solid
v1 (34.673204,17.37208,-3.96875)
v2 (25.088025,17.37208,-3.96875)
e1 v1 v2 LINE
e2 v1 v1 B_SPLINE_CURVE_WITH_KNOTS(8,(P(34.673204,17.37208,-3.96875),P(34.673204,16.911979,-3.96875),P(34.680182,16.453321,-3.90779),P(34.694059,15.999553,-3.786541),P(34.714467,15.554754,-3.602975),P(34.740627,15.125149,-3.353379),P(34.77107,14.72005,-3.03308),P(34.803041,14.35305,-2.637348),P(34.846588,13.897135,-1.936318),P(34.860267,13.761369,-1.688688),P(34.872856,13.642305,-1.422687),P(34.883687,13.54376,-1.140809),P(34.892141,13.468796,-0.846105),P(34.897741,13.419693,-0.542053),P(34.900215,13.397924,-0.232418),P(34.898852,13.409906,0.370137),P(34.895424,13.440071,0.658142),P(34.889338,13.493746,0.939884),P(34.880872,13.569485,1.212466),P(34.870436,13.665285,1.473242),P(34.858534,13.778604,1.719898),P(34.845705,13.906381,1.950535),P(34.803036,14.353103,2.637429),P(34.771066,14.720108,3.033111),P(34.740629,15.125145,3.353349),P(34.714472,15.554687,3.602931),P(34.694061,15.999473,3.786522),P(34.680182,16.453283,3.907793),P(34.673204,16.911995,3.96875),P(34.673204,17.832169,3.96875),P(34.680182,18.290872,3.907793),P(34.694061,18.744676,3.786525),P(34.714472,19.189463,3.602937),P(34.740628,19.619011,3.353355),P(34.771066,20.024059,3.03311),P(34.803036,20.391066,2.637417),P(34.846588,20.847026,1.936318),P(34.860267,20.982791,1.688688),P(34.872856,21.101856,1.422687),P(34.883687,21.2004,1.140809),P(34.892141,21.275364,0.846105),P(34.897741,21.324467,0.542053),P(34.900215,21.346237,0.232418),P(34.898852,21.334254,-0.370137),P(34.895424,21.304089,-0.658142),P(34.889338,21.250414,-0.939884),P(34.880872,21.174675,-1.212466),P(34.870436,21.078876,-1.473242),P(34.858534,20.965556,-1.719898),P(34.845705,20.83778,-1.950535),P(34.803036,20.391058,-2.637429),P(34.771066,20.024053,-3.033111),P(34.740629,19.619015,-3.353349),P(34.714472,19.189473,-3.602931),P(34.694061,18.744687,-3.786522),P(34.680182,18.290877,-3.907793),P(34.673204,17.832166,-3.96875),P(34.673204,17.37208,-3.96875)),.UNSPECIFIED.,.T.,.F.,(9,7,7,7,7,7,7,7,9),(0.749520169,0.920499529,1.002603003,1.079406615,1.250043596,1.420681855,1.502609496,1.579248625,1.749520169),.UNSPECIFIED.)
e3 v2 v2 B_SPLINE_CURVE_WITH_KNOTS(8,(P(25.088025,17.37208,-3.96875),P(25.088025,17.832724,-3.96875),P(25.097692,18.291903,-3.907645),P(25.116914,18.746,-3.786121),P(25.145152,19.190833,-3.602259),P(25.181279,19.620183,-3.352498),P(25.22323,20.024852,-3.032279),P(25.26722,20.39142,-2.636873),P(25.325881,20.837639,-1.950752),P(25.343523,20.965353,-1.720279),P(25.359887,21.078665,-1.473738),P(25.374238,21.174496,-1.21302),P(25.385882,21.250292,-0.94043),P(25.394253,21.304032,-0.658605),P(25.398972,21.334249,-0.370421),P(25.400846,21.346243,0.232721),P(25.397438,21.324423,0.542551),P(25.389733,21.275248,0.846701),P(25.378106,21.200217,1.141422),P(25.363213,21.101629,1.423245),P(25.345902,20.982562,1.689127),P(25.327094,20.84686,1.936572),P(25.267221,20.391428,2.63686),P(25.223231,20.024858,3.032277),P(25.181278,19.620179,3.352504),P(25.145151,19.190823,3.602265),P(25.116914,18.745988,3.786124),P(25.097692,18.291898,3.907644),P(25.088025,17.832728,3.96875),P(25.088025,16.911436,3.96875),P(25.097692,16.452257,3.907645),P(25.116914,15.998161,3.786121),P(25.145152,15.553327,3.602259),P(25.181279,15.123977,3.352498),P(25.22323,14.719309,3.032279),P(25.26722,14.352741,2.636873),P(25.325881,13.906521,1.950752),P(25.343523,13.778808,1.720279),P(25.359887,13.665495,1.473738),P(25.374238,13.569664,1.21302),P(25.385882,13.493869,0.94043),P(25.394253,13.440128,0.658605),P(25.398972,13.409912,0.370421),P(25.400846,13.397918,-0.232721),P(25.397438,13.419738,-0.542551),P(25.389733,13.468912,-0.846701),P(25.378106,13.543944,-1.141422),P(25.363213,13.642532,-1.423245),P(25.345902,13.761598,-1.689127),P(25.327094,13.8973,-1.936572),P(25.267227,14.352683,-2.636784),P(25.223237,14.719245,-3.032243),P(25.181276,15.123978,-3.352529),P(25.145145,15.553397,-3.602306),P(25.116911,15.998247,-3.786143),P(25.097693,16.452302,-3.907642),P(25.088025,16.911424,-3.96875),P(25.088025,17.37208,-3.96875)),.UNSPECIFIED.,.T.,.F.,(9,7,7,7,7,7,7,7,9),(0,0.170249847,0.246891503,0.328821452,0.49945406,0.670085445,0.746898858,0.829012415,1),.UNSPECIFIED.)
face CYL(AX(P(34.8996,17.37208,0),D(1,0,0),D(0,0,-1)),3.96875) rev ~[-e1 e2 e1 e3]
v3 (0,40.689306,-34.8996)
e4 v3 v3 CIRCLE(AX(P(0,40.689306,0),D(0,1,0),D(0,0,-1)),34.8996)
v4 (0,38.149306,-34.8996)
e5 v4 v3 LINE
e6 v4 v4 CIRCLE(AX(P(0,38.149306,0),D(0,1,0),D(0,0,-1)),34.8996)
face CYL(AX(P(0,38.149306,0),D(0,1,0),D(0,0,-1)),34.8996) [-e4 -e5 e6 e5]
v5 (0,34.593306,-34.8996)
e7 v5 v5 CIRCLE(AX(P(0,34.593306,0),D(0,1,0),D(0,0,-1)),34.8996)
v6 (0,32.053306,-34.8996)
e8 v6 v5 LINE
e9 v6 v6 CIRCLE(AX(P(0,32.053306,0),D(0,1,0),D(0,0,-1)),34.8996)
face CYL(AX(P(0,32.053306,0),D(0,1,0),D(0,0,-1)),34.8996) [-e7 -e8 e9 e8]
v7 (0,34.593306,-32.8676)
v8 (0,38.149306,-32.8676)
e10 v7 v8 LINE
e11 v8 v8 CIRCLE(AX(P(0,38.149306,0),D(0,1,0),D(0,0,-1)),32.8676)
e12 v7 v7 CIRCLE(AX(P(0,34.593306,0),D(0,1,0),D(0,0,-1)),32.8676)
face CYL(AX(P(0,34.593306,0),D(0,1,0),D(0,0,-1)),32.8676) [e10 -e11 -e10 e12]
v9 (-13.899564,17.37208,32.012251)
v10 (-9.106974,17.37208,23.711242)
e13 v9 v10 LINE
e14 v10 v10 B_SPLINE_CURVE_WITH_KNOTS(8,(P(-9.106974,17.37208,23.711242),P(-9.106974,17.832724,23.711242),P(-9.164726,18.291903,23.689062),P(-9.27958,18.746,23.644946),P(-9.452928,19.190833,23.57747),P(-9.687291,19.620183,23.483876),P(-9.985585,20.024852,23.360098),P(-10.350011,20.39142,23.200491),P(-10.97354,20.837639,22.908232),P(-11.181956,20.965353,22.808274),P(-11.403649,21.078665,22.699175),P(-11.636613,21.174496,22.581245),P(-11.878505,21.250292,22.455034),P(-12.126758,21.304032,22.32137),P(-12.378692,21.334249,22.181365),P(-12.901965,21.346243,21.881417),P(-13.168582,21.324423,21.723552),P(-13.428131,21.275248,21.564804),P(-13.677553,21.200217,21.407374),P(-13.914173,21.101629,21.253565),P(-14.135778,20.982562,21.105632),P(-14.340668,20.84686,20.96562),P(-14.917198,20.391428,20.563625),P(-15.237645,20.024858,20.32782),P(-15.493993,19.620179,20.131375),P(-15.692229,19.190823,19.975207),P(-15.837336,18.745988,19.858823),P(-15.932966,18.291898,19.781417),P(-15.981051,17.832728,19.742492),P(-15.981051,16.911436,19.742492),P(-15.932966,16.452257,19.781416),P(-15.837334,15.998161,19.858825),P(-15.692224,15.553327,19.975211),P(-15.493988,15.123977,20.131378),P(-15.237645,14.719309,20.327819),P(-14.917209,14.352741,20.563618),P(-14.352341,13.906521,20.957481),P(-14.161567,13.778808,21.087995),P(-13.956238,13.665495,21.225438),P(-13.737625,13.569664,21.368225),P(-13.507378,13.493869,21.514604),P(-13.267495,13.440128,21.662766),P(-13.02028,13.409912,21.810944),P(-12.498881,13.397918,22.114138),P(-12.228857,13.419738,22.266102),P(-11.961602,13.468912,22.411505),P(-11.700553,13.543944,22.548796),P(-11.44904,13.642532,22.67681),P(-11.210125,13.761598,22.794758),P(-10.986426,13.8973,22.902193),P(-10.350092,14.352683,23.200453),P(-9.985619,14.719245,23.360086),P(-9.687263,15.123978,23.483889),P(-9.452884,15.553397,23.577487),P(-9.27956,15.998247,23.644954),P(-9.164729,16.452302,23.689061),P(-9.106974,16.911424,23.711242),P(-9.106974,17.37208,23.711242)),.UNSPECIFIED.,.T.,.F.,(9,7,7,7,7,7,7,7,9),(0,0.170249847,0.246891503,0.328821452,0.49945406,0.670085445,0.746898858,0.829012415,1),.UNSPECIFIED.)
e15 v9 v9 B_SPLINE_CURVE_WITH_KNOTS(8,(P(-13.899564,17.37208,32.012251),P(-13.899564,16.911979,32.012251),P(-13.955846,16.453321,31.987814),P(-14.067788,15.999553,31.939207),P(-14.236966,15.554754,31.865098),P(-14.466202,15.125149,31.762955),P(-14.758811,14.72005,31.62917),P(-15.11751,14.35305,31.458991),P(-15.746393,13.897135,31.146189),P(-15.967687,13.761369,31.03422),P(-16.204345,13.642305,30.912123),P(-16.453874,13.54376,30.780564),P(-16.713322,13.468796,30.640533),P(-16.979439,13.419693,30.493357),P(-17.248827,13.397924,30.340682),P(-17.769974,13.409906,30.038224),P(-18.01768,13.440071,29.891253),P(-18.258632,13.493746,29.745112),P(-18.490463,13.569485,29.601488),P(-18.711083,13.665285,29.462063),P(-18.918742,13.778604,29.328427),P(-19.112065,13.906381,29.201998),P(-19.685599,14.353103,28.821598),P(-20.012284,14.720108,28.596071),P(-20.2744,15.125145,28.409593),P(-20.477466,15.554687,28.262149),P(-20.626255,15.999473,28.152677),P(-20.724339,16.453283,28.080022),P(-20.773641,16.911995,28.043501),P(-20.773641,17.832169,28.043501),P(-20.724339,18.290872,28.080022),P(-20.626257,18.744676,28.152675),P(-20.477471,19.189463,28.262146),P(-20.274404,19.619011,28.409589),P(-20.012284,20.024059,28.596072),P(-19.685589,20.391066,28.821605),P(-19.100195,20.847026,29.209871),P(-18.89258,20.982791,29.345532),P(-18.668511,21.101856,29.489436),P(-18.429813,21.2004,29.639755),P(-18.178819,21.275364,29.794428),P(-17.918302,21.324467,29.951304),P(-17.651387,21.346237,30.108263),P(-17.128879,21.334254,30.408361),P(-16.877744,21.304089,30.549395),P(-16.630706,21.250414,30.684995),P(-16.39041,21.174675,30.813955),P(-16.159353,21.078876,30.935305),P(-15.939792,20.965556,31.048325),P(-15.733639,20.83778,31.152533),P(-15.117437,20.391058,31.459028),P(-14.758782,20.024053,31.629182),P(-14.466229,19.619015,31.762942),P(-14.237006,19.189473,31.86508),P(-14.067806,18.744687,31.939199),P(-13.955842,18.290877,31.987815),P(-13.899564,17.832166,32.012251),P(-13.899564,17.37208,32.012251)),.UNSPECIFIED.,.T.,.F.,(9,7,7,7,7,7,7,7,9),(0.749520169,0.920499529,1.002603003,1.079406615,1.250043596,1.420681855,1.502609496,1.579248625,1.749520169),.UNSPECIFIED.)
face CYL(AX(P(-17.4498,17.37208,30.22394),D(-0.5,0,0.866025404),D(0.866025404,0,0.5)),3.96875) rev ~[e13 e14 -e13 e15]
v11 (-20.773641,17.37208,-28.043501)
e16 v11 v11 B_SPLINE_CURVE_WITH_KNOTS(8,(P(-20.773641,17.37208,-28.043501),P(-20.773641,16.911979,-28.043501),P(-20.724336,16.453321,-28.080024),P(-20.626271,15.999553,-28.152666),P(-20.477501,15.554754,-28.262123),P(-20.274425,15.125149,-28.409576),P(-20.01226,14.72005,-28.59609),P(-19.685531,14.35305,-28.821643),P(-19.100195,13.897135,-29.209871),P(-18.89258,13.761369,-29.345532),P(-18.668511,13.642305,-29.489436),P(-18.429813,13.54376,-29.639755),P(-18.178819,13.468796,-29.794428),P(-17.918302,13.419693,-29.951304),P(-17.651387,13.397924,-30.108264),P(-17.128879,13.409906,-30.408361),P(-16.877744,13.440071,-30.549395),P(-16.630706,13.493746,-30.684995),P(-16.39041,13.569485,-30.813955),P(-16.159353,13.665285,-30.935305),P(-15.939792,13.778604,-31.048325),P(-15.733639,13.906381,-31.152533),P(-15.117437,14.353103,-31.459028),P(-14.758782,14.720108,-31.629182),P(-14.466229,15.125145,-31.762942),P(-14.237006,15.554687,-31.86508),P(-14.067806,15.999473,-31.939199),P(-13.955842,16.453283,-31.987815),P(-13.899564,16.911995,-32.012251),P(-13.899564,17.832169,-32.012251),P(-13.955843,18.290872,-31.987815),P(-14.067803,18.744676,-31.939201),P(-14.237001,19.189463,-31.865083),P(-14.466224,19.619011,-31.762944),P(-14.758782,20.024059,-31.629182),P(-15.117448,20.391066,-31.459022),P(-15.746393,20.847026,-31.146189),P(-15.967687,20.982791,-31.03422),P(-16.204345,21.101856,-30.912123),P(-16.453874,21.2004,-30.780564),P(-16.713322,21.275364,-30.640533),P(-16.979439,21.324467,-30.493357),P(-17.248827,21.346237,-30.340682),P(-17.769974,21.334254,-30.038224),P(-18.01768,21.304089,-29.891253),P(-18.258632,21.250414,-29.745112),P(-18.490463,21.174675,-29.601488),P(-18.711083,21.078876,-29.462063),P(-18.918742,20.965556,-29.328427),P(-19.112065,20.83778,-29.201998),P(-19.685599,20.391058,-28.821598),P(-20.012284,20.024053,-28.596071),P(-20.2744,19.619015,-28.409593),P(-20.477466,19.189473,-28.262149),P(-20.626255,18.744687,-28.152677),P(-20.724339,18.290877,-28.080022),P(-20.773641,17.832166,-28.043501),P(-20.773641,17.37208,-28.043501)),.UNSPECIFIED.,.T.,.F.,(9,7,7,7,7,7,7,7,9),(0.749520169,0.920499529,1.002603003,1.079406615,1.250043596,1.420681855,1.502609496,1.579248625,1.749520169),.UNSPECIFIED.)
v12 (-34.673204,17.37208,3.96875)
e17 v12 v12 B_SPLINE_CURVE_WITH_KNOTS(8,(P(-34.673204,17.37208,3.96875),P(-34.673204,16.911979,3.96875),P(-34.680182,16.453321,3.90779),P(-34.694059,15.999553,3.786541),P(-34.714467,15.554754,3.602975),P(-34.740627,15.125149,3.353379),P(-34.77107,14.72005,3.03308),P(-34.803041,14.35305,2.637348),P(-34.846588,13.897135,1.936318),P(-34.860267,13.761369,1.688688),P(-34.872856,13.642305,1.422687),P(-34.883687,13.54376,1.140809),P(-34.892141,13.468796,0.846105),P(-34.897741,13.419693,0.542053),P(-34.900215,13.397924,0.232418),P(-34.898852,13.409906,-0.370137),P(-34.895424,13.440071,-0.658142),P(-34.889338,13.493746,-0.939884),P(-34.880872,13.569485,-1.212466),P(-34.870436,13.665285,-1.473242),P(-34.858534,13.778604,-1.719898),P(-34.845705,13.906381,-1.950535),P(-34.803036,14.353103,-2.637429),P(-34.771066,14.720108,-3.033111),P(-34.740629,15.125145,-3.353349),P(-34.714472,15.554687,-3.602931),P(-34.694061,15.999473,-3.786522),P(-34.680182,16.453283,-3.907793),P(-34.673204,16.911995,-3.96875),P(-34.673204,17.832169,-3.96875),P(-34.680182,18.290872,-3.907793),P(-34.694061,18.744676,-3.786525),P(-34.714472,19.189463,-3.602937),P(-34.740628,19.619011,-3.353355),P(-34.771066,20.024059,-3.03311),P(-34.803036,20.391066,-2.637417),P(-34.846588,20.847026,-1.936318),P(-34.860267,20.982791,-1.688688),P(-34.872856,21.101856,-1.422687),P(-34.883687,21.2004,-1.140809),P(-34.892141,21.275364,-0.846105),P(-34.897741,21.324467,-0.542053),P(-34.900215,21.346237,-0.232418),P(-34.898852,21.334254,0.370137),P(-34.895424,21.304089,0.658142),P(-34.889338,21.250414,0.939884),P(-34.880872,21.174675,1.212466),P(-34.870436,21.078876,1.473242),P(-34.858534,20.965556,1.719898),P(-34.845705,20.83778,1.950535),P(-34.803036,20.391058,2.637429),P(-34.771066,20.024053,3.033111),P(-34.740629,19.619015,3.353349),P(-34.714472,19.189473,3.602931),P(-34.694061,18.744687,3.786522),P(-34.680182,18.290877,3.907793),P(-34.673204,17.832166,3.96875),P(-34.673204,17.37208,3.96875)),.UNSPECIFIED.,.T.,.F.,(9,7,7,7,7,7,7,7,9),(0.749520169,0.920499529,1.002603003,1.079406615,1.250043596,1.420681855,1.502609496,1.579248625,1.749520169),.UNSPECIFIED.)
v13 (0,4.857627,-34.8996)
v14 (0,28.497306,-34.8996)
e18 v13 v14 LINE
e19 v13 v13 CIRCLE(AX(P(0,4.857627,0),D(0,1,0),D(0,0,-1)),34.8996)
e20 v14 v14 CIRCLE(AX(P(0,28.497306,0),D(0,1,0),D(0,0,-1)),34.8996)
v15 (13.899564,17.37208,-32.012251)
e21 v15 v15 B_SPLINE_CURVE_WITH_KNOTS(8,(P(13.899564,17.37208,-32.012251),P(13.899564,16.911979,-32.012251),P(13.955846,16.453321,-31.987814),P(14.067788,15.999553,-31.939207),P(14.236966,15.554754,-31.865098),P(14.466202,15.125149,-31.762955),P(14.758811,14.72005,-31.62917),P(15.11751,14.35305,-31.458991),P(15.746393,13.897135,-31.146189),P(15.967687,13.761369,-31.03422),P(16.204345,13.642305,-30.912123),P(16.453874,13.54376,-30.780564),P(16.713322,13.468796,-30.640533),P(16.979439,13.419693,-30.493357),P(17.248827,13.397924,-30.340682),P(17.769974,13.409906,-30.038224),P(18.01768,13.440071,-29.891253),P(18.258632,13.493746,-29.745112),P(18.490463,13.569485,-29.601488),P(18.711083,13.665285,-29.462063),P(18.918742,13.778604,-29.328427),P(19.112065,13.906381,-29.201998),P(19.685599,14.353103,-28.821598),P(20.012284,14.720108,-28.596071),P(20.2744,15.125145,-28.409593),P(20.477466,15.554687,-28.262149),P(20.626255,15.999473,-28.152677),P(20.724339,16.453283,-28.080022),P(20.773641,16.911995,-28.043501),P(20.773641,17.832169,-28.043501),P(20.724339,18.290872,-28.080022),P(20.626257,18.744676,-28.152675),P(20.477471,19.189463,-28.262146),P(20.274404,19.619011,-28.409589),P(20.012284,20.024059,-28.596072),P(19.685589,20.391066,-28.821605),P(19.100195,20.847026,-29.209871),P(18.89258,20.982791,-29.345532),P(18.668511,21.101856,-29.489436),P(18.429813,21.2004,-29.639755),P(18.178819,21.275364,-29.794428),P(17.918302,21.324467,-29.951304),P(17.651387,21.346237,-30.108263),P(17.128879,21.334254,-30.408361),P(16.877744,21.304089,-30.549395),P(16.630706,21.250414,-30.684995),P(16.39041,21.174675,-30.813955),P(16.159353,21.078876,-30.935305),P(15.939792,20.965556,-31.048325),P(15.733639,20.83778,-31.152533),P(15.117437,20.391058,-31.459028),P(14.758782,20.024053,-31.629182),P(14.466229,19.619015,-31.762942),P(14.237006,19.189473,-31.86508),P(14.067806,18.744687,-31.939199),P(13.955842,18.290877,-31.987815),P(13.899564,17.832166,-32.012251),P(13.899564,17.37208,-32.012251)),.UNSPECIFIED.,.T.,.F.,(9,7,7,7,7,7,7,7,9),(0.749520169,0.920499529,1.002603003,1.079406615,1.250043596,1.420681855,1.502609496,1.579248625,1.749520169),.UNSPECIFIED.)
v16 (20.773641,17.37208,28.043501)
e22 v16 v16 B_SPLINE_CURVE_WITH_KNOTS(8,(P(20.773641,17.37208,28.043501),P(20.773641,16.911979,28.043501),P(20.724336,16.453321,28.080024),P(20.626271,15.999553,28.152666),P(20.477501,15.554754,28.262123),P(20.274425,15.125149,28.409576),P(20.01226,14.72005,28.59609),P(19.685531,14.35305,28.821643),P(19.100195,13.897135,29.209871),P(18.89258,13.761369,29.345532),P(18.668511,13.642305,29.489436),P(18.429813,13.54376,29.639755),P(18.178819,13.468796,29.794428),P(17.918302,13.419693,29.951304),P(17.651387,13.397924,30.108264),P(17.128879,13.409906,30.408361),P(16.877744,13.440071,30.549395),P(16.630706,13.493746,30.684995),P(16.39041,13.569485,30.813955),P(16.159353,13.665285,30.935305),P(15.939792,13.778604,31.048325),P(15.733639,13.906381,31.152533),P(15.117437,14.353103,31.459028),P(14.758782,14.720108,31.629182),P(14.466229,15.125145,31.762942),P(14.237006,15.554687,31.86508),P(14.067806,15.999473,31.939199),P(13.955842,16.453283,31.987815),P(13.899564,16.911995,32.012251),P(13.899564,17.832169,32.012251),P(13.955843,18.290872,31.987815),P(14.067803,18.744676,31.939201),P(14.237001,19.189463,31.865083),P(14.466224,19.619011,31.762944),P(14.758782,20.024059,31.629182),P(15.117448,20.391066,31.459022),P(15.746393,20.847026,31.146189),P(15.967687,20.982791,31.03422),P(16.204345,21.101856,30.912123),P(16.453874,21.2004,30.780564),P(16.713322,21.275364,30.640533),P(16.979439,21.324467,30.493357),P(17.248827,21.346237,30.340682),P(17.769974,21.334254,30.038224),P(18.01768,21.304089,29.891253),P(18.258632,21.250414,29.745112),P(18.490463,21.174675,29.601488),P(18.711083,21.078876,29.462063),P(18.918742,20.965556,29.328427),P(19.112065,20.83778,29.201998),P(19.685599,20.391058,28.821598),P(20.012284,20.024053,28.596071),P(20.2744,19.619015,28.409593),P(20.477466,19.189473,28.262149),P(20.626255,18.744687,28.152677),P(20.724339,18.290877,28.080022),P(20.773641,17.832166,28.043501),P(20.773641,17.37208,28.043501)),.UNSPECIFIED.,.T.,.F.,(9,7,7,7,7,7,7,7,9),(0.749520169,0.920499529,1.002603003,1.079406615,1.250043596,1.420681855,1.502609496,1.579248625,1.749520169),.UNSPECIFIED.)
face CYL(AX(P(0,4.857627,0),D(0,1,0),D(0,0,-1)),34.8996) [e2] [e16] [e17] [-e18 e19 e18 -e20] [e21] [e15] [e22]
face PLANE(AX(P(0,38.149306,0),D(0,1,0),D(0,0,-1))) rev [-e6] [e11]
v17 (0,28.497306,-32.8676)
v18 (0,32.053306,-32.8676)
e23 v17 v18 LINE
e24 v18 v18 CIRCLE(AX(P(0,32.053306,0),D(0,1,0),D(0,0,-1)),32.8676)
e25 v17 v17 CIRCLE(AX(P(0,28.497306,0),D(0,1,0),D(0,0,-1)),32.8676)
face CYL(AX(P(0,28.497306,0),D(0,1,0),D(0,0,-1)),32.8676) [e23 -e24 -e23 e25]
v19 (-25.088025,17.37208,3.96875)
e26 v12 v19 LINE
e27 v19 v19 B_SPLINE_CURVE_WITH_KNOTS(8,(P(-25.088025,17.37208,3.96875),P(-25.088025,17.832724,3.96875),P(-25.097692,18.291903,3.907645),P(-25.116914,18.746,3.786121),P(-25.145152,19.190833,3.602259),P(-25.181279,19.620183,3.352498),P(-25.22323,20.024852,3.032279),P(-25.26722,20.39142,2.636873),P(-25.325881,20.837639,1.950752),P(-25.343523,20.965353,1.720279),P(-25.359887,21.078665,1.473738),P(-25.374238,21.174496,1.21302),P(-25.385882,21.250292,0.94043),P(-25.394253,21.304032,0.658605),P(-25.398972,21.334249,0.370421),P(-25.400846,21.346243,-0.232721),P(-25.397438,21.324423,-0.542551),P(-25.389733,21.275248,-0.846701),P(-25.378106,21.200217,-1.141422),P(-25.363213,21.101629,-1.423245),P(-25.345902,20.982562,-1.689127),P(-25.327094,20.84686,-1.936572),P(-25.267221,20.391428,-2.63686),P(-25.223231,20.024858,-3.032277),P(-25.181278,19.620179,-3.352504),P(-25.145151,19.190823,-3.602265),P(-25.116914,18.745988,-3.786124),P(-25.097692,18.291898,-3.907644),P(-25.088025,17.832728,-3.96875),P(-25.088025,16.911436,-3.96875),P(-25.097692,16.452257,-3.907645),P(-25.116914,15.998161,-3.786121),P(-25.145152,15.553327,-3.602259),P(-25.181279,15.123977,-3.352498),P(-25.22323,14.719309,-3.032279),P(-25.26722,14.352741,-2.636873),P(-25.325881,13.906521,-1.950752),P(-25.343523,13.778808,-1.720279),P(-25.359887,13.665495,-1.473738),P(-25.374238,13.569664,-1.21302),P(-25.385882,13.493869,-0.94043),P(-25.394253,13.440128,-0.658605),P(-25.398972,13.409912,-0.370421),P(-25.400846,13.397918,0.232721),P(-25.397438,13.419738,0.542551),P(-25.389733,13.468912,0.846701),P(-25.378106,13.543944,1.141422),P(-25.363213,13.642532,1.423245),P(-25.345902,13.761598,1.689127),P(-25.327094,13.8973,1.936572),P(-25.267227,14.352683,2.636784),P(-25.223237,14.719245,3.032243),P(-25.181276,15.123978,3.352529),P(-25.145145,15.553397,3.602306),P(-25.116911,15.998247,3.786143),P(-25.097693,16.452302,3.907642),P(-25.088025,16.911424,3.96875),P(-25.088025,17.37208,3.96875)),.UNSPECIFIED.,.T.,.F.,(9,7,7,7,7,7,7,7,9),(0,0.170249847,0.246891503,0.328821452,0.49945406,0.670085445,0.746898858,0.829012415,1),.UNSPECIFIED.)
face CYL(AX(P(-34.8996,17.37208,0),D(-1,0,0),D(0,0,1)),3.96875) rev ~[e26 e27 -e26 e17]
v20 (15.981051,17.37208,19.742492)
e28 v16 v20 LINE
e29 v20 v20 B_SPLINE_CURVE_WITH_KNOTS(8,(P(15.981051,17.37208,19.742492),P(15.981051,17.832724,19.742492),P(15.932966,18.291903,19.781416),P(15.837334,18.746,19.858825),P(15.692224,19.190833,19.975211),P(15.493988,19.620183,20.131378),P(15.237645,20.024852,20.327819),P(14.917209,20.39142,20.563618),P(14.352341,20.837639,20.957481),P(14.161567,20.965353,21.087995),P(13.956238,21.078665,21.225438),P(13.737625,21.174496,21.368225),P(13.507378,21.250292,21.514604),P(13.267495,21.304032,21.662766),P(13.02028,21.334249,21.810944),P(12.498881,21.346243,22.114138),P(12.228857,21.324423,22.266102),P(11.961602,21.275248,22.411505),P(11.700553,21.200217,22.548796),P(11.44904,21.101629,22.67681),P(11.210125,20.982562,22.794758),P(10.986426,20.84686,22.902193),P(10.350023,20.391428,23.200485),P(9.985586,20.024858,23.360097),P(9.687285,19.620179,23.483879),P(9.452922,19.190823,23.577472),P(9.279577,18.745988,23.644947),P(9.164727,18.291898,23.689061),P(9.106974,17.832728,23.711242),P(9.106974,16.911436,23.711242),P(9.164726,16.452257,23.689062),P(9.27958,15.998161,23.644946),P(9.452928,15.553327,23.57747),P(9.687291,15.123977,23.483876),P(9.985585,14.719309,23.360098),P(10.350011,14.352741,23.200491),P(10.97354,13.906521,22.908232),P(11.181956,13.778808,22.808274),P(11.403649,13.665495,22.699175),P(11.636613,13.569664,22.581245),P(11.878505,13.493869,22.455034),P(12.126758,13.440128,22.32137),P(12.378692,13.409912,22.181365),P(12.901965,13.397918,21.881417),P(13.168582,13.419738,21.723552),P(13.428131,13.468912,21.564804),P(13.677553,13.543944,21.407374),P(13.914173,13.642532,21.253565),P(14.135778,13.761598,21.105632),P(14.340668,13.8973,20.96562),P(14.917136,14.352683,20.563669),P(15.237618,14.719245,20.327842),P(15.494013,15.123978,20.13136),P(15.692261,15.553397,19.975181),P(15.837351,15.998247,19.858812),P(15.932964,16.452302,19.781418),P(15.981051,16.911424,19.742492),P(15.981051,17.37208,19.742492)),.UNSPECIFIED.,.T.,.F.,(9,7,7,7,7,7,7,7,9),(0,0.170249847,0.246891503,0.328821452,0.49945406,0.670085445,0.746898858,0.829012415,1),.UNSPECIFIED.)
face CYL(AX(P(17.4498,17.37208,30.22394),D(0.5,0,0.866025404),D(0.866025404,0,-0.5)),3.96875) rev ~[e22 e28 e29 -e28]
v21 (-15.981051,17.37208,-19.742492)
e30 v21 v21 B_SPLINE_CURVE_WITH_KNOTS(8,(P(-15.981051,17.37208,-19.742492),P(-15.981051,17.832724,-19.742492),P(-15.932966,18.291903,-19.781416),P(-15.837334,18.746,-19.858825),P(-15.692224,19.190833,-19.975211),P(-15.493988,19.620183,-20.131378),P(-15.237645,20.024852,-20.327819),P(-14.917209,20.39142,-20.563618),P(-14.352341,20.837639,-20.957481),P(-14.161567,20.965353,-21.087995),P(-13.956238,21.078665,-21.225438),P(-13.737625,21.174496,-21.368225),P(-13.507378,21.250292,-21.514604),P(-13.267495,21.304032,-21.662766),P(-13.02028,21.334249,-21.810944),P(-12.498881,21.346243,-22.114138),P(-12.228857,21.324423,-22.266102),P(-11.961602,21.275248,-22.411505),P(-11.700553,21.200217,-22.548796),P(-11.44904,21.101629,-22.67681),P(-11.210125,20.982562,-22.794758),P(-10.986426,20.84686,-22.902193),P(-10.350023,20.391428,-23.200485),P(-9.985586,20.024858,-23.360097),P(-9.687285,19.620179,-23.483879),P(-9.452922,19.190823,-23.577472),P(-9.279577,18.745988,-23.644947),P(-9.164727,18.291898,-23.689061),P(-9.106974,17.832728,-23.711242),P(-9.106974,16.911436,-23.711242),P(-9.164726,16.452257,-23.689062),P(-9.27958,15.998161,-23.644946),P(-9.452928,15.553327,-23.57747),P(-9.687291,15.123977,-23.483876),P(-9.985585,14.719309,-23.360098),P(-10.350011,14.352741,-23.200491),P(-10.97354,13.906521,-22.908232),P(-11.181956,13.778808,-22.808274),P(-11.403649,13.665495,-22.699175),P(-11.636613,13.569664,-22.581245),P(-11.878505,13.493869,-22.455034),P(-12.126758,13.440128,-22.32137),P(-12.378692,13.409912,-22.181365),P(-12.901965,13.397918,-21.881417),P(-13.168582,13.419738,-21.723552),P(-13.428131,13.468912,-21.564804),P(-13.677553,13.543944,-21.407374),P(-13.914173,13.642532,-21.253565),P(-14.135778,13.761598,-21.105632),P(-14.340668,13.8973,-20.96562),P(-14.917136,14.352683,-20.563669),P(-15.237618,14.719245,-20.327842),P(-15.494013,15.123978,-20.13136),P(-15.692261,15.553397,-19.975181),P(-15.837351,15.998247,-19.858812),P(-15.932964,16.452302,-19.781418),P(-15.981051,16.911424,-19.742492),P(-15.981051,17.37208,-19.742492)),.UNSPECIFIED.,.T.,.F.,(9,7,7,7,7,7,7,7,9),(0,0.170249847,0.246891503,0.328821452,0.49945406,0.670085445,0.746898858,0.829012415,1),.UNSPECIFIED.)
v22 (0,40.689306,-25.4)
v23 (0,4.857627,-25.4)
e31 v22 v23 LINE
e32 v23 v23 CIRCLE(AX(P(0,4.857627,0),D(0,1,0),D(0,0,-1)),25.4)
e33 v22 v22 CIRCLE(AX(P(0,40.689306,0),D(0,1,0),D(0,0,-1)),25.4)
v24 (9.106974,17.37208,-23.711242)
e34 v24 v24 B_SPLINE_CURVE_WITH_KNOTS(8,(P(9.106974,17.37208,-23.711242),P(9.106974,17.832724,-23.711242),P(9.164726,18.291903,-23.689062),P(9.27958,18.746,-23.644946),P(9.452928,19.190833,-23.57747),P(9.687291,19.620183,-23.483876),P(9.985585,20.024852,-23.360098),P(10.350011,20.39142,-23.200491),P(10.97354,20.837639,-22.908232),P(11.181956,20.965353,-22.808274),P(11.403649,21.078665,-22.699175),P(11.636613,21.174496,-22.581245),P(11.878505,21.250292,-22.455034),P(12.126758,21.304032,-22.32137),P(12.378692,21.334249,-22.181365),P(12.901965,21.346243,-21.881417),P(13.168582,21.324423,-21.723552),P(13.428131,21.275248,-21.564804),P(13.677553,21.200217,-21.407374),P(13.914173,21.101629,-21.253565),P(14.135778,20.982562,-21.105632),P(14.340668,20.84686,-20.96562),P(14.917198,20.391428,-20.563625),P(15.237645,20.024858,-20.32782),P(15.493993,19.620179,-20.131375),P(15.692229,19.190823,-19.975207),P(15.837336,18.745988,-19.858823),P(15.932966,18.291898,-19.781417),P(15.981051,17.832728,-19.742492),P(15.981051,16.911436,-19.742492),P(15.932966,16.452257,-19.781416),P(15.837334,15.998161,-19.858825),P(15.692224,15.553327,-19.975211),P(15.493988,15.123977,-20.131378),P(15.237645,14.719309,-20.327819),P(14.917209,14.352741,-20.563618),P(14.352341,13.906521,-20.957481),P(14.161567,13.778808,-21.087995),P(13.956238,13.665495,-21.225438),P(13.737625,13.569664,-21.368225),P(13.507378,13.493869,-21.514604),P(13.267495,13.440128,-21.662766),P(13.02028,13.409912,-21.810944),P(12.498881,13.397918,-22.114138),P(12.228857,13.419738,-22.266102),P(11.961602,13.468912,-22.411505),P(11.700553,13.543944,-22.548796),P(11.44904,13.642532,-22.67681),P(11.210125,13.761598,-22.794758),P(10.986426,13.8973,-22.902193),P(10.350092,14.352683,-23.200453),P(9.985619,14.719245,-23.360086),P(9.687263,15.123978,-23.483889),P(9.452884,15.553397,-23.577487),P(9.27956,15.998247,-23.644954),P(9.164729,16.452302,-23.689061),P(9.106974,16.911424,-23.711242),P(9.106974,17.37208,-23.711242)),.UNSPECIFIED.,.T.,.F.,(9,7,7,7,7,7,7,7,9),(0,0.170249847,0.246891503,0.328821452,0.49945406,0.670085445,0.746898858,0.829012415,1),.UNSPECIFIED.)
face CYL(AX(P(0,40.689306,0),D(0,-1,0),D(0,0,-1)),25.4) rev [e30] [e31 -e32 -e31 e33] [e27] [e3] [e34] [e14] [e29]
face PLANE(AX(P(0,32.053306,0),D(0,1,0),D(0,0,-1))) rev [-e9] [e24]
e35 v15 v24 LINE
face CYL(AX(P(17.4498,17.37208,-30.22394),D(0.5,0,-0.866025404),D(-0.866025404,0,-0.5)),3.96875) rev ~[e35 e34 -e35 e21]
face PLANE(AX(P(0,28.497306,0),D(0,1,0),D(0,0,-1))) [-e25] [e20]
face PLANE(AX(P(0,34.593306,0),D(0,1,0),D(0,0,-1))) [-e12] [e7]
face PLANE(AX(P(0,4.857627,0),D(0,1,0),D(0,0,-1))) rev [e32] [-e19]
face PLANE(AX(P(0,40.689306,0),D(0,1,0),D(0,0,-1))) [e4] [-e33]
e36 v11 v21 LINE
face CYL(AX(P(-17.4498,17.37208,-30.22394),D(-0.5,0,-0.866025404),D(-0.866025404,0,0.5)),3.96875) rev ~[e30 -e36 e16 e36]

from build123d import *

# Parameters (mm, degrees)
F_3_8_16_TAPPED_HOLE2_REACH  = 90.009
F_3_8_16_TAPPED_HOLE2_BORE_R = 3.96875
CIRPATTERN1_COUNT            = 6


with BuildPart() as part:
    # Sketch2 → Revolve1 (revolve)
    with BuildSketch(Plane.XY, mode=Mode.PRIVATE) as revolve1_sk:
        Polygon((-34.8996, 40.689305596), (-25.4, 40.689305596), (-25.4, 4.857627196), (-34.8996, 4.857627196), (-34.8996, 28.497305596), (-32.8676, 28.497305596), (-32.8676, 32.053305596), (-34.8996, 32.053305596), (-34.8996, 34.593305596), (-32.8676, 34.593305596), (-32.8676, 38.149305596), (-34.8996, 38.149305596), align=None)
    revolve(revolve1_sk.sketch.rotate(Axis((0, 0, 0), (0, 1, 0)), 270), axis=Axis((0, 0, 0), (0, 1, 0)))

    # 3/8-16 Tapped Hole2 bore → 3/8-16 Tapped Hole2 (cut, up to next)
    with BuildSketch(Plane(origin=(34.8996, 0, 0), x_dir=(0, 0, -1), z_dir=(1, 0, 0)), mode=Mode.PRIVATE) as f_3_8_16_tapped_hole2_sk1:
        with Locations((0, 17.372080196)):
            Circle(F_3_8_16_TAPPED_HOLE2_BORE_R)
    f_3_8_16_tapped_hole2_tool1 = extrude(f_3_8_16_tapped_hole2_sk1.sketch, amount=-F_3_8_16_TAPPED_HOLE2_REACH, mode=Mode.PRIVATE) & part.part
    f_3_8_16_tapped_hole2 = f_3_8_16_tapped_hole2_tool1.solids().sort_by_distance((34.8996, 17.37208, 0))[0]
    add(f_3_8_16_tapped_hole2, mode=Mode.SUBTRACT)

    # CirPattern1: 3/8-16 Tapped Hole2 ×6 about axis
    cirpattern1_axis = Axis((0, 40.689305596, 0), (0, -1, 0))
    for i in range(1, CIRPATTERN1_COUNT):
        add(f_3_8_16_tapped_hole2.rotate(cirpattern1_axis, i * 360 / CIRPATTERN1_COUNT), mode=Mode.SUBTRACT)


solid = part.part
